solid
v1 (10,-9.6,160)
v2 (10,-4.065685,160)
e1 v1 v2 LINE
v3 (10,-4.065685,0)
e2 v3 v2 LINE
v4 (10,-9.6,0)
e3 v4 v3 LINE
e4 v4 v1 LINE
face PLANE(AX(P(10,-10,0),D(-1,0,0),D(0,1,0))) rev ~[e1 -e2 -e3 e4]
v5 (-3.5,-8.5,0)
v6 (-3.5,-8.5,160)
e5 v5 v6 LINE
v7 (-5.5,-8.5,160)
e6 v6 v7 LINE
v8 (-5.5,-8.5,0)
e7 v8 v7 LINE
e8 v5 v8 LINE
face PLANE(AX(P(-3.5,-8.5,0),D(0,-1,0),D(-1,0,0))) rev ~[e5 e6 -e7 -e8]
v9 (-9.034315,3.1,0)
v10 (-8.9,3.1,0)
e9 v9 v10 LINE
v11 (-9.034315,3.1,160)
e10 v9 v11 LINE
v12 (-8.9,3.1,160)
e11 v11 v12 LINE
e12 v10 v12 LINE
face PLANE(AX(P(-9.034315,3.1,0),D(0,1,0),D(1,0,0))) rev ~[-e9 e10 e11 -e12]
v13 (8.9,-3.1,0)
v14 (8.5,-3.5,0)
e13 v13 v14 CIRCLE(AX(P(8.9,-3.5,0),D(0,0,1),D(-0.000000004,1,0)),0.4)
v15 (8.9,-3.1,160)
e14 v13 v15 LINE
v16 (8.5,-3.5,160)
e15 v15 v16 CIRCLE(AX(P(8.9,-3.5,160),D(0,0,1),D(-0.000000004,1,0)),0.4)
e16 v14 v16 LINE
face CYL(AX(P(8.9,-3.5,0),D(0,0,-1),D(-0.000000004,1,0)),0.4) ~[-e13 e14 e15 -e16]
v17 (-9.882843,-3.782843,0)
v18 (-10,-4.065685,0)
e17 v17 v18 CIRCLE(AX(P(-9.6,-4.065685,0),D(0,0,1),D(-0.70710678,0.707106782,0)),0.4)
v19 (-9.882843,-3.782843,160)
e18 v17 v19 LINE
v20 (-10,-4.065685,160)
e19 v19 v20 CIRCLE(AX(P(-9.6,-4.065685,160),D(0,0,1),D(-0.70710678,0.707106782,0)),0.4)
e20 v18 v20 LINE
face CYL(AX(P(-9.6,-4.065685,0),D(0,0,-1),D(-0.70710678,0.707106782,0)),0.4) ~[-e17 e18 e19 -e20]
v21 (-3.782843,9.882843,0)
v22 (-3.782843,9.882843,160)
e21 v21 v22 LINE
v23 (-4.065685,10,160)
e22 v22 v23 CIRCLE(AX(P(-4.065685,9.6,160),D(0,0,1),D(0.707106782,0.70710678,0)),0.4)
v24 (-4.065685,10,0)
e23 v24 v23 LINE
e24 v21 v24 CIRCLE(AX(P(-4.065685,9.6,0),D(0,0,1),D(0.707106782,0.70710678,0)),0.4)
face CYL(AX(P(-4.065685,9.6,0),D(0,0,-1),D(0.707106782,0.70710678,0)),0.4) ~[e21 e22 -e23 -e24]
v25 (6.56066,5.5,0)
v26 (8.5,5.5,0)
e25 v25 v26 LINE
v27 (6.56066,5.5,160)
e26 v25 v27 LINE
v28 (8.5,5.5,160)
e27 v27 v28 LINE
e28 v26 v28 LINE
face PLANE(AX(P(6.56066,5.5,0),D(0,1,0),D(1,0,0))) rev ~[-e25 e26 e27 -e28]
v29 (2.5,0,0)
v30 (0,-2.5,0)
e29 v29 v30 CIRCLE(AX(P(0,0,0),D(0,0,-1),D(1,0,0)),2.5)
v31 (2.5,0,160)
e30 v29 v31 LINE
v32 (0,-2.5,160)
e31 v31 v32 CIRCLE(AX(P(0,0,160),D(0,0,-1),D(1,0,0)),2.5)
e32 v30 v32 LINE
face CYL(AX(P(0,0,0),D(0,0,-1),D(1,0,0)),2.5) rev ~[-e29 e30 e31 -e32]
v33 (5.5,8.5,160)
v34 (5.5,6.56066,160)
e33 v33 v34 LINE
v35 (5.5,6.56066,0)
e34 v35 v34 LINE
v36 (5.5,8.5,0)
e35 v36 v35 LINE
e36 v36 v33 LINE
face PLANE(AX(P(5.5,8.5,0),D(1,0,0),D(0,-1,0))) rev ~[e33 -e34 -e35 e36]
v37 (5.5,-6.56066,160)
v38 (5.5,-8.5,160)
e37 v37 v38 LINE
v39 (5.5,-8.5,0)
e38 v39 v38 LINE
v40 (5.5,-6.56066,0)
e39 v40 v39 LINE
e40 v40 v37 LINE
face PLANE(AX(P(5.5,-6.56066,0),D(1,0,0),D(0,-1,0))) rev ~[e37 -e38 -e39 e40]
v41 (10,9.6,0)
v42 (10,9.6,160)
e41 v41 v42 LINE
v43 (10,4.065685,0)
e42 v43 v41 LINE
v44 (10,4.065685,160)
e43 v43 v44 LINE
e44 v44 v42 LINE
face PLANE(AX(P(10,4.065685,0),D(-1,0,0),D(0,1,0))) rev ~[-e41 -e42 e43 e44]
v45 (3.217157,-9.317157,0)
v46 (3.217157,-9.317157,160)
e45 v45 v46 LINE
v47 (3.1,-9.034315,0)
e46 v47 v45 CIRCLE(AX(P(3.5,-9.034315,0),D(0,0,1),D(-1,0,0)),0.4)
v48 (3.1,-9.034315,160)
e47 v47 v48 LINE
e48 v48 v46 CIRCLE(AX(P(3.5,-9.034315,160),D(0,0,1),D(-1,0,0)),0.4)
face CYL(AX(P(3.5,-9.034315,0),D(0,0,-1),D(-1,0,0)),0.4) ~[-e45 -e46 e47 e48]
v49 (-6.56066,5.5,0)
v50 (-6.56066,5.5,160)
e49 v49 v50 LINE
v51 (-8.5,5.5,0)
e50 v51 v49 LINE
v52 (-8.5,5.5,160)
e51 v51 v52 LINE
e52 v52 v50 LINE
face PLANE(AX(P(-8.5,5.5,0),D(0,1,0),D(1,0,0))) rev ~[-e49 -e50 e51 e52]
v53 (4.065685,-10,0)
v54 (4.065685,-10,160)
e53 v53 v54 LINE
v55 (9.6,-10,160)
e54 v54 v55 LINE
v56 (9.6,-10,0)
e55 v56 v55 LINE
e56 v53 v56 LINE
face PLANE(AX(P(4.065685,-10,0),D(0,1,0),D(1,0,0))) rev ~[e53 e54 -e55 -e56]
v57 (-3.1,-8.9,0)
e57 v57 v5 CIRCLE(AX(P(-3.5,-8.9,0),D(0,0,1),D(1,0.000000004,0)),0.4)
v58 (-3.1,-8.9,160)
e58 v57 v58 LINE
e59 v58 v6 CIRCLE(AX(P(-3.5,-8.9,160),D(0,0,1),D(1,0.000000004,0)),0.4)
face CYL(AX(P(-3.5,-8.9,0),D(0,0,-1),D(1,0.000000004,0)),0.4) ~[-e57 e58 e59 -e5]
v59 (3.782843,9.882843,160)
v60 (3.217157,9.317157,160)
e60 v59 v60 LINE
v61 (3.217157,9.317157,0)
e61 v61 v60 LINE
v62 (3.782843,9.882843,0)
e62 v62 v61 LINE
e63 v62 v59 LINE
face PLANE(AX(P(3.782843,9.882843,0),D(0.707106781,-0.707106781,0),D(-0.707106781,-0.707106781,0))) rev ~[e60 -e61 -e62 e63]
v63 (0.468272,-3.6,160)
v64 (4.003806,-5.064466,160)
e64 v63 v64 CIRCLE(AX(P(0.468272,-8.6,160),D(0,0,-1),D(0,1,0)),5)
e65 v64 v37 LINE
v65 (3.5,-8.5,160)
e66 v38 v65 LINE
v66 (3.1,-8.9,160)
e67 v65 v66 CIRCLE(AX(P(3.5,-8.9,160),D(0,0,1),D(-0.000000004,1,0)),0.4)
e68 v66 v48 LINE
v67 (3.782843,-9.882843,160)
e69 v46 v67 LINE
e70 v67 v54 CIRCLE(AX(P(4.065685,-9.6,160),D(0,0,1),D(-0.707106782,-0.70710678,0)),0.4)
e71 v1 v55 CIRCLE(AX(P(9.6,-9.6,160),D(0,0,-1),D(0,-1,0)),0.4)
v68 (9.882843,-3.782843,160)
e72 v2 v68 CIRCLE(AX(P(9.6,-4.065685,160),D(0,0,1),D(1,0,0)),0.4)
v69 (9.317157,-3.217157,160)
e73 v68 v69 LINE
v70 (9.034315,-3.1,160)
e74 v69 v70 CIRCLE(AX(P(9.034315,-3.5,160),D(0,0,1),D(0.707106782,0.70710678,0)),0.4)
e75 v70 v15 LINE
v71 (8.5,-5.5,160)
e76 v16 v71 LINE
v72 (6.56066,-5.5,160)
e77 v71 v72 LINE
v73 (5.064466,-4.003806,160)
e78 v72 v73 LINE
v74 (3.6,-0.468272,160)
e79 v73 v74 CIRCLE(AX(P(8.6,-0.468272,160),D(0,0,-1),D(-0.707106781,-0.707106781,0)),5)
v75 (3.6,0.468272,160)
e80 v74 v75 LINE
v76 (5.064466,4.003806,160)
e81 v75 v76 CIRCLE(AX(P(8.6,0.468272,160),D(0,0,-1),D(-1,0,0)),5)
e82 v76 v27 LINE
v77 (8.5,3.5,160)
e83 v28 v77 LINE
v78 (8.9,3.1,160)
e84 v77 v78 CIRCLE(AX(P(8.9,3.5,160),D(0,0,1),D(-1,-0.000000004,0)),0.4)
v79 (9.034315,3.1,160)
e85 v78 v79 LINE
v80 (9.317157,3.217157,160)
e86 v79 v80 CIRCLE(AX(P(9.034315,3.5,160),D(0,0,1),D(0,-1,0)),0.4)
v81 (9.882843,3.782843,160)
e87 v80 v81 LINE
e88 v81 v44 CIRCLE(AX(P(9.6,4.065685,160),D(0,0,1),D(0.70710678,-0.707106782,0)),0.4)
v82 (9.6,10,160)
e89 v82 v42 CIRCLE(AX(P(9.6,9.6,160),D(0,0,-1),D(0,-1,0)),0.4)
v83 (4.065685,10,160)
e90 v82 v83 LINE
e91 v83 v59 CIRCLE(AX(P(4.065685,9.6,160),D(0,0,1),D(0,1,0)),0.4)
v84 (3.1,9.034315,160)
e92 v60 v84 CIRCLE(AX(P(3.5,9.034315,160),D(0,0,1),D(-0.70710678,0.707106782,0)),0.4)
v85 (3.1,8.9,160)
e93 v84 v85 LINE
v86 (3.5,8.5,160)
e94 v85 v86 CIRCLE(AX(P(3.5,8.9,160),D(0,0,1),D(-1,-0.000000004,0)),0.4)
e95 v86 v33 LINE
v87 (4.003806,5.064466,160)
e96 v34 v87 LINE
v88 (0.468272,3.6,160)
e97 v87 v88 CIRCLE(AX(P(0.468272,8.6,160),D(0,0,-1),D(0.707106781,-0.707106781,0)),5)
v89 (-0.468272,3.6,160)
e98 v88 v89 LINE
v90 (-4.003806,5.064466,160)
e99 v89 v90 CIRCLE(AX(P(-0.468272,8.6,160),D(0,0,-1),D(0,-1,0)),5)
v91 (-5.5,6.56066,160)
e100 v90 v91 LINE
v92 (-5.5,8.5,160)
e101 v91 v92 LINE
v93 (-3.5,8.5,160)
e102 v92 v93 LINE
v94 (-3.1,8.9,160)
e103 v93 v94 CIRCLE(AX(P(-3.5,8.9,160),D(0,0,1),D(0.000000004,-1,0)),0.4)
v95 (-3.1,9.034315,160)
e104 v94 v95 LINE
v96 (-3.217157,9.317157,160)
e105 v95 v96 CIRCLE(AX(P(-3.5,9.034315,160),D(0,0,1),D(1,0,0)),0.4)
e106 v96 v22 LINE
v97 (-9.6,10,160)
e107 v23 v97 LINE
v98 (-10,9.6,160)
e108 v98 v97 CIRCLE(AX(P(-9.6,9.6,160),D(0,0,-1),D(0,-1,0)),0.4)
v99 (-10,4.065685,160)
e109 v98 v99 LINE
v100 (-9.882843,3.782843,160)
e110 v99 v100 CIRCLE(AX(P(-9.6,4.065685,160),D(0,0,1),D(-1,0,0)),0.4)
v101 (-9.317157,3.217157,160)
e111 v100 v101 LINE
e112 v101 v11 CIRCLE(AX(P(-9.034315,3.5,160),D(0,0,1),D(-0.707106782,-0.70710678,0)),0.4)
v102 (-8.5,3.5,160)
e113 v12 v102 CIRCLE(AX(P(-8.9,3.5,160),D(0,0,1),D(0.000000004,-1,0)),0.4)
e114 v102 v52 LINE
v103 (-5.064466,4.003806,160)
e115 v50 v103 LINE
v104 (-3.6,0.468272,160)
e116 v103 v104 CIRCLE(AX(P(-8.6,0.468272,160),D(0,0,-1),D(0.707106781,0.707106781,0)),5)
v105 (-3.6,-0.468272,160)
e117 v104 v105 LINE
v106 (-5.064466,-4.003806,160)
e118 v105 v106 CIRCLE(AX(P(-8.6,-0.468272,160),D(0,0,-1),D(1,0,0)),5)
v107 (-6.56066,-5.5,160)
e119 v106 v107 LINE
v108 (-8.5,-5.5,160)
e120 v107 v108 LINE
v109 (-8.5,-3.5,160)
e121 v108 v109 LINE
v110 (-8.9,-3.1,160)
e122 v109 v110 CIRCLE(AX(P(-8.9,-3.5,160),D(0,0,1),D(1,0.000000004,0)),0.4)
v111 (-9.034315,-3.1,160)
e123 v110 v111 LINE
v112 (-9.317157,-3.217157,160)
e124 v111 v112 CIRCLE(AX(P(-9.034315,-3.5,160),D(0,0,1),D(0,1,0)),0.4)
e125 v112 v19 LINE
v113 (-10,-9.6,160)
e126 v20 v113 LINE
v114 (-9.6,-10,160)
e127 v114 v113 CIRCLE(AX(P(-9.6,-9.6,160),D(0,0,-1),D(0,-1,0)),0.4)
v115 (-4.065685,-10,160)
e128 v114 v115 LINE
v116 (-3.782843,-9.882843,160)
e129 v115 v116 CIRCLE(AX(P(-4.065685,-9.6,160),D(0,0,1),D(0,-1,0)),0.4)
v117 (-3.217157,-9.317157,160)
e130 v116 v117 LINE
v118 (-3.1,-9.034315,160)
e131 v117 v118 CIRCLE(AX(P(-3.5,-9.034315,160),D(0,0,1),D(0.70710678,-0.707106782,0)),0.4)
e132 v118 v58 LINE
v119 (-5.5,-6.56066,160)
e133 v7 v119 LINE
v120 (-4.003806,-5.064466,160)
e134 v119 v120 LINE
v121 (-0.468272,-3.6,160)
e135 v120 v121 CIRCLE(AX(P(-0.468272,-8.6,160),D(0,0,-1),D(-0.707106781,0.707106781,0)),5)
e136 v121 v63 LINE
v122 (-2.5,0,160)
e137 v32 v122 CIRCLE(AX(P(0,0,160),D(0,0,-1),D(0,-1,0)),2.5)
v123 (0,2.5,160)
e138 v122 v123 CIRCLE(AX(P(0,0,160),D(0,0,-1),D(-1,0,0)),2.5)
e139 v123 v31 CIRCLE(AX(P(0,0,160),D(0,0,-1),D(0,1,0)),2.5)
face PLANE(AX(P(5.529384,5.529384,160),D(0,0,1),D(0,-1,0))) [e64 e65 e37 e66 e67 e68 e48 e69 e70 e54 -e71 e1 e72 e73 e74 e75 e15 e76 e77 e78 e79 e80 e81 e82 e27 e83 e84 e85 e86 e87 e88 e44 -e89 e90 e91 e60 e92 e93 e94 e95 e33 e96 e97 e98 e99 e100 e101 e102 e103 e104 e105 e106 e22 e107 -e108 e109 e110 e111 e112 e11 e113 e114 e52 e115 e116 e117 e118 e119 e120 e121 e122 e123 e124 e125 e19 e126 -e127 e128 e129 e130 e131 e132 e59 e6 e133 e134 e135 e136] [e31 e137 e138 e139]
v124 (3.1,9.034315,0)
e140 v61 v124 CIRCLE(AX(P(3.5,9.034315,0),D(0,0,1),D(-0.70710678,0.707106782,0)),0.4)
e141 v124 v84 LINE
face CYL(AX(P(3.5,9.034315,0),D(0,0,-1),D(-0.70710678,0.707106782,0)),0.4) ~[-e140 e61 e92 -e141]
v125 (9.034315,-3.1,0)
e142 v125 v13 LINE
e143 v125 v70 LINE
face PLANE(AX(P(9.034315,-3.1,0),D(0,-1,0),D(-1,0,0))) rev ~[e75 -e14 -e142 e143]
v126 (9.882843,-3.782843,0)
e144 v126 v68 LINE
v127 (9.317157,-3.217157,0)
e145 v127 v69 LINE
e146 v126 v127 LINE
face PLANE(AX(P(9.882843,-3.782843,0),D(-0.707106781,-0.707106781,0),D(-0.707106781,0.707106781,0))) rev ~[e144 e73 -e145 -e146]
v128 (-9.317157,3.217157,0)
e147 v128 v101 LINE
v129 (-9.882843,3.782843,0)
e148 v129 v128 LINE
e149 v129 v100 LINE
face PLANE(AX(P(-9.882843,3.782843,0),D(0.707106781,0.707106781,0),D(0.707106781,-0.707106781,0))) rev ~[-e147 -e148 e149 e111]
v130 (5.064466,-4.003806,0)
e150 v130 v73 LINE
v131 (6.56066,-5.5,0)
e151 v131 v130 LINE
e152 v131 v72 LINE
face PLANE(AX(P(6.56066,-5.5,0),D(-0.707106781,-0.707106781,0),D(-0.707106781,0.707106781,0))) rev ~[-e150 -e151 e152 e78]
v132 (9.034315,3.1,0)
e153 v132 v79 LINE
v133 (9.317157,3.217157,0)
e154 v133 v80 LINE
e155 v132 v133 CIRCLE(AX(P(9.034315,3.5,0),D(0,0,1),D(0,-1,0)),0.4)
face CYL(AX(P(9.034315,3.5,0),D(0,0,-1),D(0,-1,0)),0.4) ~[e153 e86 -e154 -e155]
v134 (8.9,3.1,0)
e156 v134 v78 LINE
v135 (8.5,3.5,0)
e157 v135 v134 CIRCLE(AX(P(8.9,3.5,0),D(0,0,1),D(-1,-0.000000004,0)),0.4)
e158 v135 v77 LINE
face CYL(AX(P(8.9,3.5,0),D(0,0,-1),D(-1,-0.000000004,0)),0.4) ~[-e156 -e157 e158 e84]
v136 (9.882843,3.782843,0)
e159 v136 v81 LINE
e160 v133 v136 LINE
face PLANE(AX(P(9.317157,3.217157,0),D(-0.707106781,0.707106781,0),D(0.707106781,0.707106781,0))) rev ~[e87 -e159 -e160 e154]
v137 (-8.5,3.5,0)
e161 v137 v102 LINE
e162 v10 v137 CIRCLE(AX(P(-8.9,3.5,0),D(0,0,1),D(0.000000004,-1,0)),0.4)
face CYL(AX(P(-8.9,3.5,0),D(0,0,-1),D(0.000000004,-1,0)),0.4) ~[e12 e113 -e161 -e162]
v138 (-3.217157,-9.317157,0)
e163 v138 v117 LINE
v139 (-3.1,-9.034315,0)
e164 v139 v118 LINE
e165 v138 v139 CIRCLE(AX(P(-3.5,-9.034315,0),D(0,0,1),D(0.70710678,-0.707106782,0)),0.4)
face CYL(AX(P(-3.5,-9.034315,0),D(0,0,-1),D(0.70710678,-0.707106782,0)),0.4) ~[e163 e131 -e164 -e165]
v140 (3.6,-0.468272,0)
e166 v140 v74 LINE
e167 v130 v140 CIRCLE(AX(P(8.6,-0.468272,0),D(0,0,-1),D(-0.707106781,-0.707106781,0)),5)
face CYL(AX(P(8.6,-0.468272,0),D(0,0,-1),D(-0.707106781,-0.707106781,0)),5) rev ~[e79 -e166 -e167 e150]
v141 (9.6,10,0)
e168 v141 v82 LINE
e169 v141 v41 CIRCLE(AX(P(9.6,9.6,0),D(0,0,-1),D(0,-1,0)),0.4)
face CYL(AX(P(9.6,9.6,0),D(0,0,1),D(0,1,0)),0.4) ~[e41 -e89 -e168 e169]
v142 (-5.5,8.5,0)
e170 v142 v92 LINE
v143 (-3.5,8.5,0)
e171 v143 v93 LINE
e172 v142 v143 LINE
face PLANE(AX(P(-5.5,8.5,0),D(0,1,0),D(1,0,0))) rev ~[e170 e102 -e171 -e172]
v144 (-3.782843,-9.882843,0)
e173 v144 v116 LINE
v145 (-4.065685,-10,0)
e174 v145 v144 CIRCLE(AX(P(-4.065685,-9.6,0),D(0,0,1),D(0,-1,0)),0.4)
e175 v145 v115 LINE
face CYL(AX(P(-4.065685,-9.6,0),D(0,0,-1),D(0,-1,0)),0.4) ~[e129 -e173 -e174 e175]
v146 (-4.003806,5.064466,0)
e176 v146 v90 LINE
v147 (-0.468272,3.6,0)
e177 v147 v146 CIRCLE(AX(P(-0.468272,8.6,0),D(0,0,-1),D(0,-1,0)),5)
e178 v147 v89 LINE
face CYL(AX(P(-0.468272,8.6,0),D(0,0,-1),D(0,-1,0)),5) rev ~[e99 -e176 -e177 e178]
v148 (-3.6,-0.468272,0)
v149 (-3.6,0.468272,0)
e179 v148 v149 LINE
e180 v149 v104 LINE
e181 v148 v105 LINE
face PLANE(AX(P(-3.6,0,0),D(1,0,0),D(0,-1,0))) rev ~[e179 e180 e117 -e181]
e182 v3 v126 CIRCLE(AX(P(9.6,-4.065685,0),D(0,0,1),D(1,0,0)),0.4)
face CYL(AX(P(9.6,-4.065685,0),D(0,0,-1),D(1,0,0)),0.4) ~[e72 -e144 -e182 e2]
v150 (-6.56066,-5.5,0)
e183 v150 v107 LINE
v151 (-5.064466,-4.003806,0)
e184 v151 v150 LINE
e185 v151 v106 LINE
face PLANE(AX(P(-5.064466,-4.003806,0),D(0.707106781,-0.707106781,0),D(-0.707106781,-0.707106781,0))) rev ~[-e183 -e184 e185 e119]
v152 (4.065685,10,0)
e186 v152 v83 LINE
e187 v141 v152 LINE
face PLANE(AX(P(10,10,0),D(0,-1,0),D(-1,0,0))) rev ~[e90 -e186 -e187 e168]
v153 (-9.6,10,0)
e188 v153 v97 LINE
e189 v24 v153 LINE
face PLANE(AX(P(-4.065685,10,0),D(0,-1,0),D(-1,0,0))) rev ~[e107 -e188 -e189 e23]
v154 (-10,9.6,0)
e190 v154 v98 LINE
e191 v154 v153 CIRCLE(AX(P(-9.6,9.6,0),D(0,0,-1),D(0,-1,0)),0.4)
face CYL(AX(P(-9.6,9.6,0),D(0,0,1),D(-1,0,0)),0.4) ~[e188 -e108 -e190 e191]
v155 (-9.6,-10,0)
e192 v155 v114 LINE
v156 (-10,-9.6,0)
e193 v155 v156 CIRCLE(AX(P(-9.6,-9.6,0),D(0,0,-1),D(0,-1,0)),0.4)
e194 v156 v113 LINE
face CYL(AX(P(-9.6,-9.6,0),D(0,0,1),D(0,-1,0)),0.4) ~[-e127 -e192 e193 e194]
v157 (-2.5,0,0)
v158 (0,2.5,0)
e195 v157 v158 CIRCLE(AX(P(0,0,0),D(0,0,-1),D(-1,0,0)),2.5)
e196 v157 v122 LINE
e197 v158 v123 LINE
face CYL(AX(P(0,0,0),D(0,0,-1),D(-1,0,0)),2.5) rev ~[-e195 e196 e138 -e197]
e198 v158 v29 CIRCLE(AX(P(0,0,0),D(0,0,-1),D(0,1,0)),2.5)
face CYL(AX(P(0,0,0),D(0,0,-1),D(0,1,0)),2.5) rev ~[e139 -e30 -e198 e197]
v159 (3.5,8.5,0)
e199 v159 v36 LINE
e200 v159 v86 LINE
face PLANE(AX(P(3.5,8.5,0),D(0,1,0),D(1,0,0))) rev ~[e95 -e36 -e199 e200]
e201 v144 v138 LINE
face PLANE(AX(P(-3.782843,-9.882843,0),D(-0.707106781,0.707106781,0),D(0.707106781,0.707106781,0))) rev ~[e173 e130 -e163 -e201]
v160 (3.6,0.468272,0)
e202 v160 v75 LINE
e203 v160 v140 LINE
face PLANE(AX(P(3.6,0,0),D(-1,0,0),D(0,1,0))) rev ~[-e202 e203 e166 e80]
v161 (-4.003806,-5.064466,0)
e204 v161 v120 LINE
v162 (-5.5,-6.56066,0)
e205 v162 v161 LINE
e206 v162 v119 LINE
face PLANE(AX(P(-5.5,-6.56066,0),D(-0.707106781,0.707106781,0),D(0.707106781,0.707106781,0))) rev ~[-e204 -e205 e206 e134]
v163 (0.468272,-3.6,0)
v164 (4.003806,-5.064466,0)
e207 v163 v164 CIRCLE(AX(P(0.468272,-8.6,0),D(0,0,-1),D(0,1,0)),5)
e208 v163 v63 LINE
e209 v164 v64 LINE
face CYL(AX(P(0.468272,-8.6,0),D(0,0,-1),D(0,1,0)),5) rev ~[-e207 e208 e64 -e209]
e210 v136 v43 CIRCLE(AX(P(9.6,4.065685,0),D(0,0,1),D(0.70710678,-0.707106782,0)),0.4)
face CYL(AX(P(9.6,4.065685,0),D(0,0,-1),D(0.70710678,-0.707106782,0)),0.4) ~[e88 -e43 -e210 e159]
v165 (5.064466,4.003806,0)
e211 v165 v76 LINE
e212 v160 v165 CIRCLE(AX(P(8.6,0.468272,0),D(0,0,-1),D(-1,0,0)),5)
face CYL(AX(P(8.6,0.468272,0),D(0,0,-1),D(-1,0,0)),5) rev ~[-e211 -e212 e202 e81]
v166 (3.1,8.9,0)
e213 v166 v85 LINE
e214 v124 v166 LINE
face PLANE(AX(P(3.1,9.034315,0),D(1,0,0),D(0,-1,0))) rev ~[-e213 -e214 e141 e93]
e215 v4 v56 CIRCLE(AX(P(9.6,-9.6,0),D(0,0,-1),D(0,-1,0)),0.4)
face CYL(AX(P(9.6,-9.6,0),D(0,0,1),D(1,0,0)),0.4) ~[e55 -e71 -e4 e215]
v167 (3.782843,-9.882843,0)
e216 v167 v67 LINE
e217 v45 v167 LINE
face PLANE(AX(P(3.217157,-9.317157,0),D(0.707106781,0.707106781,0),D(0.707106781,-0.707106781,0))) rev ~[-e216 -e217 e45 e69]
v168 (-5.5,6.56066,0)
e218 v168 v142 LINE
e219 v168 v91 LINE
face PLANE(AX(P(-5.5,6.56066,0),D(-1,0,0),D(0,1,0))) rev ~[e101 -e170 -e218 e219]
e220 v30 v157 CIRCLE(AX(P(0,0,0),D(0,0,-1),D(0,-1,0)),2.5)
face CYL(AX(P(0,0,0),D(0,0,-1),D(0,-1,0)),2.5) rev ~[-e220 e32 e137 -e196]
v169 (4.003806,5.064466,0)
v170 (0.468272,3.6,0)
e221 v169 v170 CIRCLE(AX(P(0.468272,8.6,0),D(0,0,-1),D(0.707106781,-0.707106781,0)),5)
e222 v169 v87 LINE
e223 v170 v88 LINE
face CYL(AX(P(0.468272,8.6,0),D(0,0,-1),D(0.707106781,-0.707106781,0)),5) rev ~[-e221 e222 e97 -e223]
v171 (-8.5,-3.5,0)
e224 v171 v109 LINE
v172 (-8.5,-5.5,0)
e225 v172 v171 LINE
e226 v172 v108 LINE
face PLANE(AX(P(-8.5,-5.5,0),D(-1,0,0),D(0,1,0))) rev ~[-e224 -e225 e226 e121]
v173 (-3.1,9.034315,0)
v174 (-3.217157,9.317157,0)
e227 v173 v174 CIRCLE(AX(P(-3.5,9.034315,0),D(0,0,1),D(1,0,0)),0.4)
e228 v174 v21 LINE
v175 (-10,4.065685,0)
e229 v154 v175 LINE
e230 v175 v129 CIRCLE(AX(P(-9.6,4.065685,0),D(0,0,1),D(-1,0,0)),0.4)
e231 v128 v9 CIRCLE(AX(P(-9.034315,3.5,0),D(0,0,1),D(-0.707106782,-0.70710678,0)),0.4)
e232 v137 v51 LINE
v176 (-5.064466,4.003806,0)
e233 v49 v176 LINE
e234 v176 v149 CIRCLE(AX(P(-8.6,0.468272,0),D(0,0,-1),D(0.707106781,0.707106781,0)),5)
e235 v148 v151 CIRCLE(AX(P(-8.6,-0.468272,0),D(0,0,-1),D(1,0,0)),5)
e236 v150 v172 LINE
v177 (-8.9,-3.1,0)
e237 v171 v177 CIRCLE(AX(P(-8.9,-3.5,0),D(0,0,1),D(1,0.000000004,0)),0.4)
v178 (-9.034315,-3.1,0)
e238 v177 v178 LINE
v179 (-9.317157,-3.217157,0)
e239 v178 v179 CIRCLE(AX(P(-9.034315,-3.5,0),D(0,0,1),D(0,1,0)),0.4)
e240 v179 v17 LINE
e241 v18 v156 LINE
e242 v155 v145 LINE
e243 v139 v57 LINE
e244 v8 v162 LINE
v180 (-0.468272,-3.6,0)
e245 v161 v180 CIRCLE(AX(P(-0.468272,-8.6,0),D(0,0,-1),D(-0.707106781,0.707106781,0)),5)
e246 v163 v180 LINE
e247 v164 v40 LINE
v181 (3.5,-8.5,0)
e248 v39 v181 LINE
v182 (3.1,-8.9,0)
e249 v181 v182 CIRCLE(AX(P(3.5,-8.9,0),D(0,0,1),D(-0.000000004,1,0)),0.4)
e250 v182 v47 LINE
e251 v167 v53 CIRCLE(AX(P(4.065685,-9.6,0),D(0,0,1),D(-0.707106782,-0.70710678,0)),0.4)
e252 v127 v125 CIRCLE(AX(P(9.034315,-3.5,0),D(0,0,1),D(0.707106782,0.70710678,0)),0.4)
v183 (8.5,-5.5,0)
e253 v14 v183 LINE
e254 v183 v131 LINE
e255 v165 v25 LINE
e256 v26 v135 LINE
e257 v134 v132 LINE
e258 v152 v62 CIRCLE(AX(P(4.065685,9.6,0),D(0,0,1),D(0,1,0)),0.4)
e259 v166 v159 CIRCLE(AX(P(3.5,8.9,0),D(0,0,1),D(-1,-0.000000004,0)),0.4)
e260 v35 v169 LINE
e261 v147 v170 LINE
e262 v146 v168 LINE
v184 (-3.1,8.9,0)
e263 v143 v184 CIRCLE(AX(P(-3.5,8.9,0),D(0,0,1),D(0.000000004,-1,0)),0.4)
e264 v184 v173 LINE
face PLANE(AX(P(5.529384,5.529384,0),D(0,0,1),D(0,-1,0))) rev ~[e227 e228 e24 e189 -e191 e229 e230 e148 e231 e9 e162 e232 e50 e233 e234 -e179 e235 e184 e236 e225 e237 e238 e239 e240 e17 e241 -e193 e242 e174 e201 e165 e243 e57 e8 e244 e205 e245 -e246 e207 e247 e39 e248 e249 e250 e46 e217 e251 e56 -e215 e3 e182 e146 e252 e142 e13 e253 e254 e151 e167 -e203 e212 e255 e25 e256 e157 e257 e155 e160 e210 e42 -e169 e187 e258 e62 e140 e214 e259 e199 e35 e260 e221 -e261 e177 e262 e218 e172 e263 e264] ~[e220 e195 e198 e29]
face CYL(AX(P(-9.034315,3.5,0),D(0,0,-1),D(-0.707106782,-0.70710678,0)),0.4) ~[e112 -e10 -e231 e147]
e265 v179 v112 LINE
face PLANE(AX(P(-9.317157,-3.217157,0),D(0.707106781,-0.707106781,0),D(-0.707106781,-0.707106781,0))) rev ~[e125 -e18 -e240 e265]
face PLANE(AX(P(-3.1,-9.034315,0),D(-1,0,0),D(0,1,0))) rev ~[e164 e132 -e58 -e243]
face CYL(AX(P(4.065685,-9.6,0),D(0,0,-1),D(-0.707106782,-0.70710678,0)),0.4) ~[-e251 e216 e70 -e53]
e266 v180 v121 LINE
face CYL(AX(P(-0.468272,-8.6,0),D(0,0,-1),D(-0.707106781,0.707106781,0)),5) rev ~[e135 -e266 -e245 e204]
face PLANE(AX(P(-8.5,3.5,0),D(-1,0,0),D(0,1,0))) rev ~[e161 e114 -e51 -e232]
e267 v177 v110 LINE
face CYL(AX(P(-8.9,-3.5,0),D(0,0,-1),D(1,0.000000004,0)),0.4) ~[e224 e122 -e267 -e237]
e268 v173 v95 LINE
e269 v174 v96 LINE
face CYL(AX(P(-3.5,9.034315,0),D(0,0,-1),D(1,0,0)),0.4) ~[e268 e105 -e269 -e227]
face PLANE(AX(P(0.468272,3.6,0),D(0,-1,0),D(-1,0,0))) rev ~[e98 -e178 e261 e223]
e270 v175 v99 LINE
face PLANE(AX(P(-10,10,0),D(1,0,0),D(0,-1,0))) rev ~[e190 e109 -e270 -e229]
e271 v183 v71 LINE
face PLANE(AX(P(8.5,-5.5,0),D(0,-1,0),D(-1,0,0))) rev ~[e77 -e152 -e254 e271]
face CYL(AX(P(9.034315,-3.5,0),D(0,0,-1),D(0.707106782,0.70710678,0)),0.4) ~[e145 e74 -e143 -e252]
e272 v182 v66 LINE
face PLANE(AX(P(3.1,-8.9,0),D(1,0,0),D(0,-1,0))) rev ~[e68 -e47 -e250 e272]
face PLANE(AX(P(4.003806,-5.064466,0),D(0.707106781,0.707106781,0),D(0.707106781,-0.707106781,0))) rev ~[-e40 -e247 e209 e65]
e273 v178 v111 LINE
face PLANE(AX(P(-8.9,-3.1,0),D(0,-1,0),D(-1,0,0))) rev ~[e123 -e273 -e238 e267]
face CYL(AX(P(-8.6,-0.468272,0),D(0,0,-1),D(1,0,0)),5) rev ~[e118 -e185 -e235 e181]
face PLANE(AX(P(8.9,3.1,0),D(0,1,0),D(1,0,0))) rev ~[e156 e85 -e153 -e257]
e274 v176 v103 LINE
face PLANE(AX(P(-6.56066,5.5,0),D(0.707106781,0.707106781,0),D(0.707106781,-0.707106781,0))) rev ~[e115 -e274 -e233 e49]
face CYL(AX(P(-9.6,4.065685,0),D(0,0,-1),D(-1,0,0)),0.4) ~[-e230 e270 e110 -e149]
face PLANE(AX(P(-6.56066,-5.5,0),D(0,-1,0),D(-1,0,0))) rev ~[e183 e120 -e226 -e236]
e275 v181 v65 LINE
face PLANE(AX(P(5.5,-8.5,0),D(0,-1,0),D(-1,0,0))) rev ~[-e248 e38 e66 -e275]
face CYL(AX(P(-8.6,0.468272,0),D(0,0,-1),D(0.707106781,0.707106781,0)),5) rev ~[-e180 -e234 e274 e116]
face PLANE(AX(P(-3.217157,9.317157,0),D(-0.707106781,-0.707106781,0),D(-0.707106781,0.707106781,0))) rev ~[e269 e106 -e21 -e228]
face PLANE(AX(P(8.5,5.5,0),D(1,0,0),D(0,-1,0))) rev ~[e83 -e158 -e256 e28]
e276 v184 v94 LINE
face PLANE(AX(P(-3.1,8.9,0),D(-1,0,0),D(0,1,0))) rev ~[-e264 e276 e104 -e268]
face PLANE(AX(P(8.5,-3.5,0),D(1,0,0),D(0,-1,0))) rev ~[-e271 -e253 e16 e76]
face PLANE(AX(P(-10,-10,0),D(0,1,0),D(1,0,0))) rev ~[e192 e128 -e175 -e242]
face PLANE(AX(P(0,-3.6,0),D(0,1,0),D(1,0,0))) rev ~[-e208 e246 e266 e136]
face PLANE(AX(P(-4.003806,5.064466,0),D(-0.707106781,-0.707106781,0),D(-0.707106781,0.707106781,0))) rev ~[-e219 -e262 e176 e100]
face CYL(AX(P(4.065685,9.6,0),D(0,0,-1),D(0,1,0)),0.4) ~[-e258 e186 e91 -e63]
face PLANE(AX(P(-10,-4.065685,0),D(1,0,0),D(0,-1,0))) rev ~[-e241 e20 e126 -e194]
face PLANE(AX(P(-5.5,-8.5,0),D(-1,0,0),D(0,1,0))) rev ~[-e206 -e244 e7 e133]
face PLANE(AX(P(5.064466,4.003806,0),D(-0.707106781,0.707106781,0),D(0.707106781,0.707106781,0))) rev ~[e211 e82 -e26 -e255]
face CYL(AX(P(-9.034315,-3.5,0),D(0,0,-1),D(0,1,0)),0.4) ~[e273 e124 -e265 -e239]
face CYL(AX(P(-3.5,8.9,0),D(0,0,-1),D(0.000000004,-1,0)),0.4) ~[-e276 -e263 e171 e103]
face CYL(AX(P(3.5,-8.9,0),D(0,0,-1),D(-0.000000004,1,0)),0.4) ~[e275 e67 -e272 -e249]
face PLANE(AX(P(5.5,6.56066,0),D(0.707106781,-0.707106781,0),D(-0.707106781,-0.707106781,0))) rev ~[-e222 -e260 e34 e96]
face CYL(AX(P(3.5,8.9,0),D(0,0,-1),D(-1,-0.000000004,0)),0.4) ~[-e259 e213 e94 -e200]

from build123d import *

# Parameters (mm, degrees)
RESSALTO_EXTRUS_O1_DEPTH = 160
PADR_OCIRCULAR1_COUNT    = 4
FILETE1_R                = 0.4


with BuildPart() as part:
    # Esboço1 → Ressalto-extrusão1 (new body)
    with BuildSketch(Plane.XY):
        with BuildLine():
            ThreePointArc((-9.317157288, 3.217157288), (-9.187387948, 3.130448187), (-9.034314575, 3.1))
            Line((-9.034314575, 3.1), (-8.9, 3.1))
            ThreePointArc((-8.9, 3.1), (-8.617157288, 3.217157288), (-8.5, 3.5))
            Line((-8.5, 3.5), (-8.5, 5.5))
            Line((-8.5, 5.5), (-6.560660172, 5.5))
            Line((-6.560660172, 5.5), (-5.064466094, 4.003805922))
            ThreePointArc((-5.064466094, 4.003805922), (-3.980602337, 2.381689178), (-3.6, 0.468272016))
            Line((-3.6, 0.468272016), (-3.6, 0))
            Line((-3.6, 0), (-2.5, 0))
            ThreePointArc((-2.5, 0), (-1.767766953, 1.767766953), (0, 2.5))
            Line((0, 2.5), (0, 3.6))
            Line((0, 3.6), (-0.468272016, 3.6))
            ThreePointArc((-0.468272016, 3.6), (-2.381689178, 3.980602337), (-4.003805922, 5.064466094))
            Line((-4.003805922, 5.064466094), (-5.5, 6.560660172))
            Line((-5.5, 6.560660172), (-5.5, 8.5))
            Line((-5.5, 8.5), (-3.5, 8.5))
            ThreePointArc((-3.5, 8.5), (-3.217157288, 8.617157288), (-3.1, 8.9))
            Line((-3.1, 8.9), (-3.1, 9.034314575))
            ThreePointArc((-3.1, 9.034314575), (-3.130448187, 9.187387948), (-3.217157288, 9.317157288))
            Line((-3.217157288, 9.317157288), (-3.782842712, 9.882842712))
            ThreePointArc((-3.782842712, 9.882842712), (-3.912612052, 9.969551813), (-4.065685425, 10))
            Line((-4.065685425, 10), (-10, 10))
            Line((-10, 10), (-10, 4.065685425))
            ThreePointArc((-10, 4.065685425), (-9.969551813, 3.912612052), (-9.882842712, 3.782842712))
            Line((-9.882842712, 3.782842712), (-9.317157288, 3.217157288))
        make_face()
    ressalto_extrus_o1 = extrude(amount=RESSALTO_EXTRUS_O1_DEPTH)

    # PadrãoCircular1: Ressalto-extrusão1 ×4 about axis
    padr_ocircular1_axis = Axis((0, 0, 0), (0, 0, 1))
    for i in range(1, PADR_OCIRCULAR1_COUNT):
        add(ressalto_extrus_o1.rotate(padr_ocircular1_axis, i * 360 / PADR_OCIRCULAR1_COUNT))

    # Filete1
    filete1_edges = [part.edges().sort_by_distance(p)[0] for p in [
        (10, -10, 80),
        (10, 10, 80),
        (-10, 10, 80),
        (-10, -10, 80),
    ]]
    fillet(filete1_edges, radius=FILETE1_R)


solid = part.part
